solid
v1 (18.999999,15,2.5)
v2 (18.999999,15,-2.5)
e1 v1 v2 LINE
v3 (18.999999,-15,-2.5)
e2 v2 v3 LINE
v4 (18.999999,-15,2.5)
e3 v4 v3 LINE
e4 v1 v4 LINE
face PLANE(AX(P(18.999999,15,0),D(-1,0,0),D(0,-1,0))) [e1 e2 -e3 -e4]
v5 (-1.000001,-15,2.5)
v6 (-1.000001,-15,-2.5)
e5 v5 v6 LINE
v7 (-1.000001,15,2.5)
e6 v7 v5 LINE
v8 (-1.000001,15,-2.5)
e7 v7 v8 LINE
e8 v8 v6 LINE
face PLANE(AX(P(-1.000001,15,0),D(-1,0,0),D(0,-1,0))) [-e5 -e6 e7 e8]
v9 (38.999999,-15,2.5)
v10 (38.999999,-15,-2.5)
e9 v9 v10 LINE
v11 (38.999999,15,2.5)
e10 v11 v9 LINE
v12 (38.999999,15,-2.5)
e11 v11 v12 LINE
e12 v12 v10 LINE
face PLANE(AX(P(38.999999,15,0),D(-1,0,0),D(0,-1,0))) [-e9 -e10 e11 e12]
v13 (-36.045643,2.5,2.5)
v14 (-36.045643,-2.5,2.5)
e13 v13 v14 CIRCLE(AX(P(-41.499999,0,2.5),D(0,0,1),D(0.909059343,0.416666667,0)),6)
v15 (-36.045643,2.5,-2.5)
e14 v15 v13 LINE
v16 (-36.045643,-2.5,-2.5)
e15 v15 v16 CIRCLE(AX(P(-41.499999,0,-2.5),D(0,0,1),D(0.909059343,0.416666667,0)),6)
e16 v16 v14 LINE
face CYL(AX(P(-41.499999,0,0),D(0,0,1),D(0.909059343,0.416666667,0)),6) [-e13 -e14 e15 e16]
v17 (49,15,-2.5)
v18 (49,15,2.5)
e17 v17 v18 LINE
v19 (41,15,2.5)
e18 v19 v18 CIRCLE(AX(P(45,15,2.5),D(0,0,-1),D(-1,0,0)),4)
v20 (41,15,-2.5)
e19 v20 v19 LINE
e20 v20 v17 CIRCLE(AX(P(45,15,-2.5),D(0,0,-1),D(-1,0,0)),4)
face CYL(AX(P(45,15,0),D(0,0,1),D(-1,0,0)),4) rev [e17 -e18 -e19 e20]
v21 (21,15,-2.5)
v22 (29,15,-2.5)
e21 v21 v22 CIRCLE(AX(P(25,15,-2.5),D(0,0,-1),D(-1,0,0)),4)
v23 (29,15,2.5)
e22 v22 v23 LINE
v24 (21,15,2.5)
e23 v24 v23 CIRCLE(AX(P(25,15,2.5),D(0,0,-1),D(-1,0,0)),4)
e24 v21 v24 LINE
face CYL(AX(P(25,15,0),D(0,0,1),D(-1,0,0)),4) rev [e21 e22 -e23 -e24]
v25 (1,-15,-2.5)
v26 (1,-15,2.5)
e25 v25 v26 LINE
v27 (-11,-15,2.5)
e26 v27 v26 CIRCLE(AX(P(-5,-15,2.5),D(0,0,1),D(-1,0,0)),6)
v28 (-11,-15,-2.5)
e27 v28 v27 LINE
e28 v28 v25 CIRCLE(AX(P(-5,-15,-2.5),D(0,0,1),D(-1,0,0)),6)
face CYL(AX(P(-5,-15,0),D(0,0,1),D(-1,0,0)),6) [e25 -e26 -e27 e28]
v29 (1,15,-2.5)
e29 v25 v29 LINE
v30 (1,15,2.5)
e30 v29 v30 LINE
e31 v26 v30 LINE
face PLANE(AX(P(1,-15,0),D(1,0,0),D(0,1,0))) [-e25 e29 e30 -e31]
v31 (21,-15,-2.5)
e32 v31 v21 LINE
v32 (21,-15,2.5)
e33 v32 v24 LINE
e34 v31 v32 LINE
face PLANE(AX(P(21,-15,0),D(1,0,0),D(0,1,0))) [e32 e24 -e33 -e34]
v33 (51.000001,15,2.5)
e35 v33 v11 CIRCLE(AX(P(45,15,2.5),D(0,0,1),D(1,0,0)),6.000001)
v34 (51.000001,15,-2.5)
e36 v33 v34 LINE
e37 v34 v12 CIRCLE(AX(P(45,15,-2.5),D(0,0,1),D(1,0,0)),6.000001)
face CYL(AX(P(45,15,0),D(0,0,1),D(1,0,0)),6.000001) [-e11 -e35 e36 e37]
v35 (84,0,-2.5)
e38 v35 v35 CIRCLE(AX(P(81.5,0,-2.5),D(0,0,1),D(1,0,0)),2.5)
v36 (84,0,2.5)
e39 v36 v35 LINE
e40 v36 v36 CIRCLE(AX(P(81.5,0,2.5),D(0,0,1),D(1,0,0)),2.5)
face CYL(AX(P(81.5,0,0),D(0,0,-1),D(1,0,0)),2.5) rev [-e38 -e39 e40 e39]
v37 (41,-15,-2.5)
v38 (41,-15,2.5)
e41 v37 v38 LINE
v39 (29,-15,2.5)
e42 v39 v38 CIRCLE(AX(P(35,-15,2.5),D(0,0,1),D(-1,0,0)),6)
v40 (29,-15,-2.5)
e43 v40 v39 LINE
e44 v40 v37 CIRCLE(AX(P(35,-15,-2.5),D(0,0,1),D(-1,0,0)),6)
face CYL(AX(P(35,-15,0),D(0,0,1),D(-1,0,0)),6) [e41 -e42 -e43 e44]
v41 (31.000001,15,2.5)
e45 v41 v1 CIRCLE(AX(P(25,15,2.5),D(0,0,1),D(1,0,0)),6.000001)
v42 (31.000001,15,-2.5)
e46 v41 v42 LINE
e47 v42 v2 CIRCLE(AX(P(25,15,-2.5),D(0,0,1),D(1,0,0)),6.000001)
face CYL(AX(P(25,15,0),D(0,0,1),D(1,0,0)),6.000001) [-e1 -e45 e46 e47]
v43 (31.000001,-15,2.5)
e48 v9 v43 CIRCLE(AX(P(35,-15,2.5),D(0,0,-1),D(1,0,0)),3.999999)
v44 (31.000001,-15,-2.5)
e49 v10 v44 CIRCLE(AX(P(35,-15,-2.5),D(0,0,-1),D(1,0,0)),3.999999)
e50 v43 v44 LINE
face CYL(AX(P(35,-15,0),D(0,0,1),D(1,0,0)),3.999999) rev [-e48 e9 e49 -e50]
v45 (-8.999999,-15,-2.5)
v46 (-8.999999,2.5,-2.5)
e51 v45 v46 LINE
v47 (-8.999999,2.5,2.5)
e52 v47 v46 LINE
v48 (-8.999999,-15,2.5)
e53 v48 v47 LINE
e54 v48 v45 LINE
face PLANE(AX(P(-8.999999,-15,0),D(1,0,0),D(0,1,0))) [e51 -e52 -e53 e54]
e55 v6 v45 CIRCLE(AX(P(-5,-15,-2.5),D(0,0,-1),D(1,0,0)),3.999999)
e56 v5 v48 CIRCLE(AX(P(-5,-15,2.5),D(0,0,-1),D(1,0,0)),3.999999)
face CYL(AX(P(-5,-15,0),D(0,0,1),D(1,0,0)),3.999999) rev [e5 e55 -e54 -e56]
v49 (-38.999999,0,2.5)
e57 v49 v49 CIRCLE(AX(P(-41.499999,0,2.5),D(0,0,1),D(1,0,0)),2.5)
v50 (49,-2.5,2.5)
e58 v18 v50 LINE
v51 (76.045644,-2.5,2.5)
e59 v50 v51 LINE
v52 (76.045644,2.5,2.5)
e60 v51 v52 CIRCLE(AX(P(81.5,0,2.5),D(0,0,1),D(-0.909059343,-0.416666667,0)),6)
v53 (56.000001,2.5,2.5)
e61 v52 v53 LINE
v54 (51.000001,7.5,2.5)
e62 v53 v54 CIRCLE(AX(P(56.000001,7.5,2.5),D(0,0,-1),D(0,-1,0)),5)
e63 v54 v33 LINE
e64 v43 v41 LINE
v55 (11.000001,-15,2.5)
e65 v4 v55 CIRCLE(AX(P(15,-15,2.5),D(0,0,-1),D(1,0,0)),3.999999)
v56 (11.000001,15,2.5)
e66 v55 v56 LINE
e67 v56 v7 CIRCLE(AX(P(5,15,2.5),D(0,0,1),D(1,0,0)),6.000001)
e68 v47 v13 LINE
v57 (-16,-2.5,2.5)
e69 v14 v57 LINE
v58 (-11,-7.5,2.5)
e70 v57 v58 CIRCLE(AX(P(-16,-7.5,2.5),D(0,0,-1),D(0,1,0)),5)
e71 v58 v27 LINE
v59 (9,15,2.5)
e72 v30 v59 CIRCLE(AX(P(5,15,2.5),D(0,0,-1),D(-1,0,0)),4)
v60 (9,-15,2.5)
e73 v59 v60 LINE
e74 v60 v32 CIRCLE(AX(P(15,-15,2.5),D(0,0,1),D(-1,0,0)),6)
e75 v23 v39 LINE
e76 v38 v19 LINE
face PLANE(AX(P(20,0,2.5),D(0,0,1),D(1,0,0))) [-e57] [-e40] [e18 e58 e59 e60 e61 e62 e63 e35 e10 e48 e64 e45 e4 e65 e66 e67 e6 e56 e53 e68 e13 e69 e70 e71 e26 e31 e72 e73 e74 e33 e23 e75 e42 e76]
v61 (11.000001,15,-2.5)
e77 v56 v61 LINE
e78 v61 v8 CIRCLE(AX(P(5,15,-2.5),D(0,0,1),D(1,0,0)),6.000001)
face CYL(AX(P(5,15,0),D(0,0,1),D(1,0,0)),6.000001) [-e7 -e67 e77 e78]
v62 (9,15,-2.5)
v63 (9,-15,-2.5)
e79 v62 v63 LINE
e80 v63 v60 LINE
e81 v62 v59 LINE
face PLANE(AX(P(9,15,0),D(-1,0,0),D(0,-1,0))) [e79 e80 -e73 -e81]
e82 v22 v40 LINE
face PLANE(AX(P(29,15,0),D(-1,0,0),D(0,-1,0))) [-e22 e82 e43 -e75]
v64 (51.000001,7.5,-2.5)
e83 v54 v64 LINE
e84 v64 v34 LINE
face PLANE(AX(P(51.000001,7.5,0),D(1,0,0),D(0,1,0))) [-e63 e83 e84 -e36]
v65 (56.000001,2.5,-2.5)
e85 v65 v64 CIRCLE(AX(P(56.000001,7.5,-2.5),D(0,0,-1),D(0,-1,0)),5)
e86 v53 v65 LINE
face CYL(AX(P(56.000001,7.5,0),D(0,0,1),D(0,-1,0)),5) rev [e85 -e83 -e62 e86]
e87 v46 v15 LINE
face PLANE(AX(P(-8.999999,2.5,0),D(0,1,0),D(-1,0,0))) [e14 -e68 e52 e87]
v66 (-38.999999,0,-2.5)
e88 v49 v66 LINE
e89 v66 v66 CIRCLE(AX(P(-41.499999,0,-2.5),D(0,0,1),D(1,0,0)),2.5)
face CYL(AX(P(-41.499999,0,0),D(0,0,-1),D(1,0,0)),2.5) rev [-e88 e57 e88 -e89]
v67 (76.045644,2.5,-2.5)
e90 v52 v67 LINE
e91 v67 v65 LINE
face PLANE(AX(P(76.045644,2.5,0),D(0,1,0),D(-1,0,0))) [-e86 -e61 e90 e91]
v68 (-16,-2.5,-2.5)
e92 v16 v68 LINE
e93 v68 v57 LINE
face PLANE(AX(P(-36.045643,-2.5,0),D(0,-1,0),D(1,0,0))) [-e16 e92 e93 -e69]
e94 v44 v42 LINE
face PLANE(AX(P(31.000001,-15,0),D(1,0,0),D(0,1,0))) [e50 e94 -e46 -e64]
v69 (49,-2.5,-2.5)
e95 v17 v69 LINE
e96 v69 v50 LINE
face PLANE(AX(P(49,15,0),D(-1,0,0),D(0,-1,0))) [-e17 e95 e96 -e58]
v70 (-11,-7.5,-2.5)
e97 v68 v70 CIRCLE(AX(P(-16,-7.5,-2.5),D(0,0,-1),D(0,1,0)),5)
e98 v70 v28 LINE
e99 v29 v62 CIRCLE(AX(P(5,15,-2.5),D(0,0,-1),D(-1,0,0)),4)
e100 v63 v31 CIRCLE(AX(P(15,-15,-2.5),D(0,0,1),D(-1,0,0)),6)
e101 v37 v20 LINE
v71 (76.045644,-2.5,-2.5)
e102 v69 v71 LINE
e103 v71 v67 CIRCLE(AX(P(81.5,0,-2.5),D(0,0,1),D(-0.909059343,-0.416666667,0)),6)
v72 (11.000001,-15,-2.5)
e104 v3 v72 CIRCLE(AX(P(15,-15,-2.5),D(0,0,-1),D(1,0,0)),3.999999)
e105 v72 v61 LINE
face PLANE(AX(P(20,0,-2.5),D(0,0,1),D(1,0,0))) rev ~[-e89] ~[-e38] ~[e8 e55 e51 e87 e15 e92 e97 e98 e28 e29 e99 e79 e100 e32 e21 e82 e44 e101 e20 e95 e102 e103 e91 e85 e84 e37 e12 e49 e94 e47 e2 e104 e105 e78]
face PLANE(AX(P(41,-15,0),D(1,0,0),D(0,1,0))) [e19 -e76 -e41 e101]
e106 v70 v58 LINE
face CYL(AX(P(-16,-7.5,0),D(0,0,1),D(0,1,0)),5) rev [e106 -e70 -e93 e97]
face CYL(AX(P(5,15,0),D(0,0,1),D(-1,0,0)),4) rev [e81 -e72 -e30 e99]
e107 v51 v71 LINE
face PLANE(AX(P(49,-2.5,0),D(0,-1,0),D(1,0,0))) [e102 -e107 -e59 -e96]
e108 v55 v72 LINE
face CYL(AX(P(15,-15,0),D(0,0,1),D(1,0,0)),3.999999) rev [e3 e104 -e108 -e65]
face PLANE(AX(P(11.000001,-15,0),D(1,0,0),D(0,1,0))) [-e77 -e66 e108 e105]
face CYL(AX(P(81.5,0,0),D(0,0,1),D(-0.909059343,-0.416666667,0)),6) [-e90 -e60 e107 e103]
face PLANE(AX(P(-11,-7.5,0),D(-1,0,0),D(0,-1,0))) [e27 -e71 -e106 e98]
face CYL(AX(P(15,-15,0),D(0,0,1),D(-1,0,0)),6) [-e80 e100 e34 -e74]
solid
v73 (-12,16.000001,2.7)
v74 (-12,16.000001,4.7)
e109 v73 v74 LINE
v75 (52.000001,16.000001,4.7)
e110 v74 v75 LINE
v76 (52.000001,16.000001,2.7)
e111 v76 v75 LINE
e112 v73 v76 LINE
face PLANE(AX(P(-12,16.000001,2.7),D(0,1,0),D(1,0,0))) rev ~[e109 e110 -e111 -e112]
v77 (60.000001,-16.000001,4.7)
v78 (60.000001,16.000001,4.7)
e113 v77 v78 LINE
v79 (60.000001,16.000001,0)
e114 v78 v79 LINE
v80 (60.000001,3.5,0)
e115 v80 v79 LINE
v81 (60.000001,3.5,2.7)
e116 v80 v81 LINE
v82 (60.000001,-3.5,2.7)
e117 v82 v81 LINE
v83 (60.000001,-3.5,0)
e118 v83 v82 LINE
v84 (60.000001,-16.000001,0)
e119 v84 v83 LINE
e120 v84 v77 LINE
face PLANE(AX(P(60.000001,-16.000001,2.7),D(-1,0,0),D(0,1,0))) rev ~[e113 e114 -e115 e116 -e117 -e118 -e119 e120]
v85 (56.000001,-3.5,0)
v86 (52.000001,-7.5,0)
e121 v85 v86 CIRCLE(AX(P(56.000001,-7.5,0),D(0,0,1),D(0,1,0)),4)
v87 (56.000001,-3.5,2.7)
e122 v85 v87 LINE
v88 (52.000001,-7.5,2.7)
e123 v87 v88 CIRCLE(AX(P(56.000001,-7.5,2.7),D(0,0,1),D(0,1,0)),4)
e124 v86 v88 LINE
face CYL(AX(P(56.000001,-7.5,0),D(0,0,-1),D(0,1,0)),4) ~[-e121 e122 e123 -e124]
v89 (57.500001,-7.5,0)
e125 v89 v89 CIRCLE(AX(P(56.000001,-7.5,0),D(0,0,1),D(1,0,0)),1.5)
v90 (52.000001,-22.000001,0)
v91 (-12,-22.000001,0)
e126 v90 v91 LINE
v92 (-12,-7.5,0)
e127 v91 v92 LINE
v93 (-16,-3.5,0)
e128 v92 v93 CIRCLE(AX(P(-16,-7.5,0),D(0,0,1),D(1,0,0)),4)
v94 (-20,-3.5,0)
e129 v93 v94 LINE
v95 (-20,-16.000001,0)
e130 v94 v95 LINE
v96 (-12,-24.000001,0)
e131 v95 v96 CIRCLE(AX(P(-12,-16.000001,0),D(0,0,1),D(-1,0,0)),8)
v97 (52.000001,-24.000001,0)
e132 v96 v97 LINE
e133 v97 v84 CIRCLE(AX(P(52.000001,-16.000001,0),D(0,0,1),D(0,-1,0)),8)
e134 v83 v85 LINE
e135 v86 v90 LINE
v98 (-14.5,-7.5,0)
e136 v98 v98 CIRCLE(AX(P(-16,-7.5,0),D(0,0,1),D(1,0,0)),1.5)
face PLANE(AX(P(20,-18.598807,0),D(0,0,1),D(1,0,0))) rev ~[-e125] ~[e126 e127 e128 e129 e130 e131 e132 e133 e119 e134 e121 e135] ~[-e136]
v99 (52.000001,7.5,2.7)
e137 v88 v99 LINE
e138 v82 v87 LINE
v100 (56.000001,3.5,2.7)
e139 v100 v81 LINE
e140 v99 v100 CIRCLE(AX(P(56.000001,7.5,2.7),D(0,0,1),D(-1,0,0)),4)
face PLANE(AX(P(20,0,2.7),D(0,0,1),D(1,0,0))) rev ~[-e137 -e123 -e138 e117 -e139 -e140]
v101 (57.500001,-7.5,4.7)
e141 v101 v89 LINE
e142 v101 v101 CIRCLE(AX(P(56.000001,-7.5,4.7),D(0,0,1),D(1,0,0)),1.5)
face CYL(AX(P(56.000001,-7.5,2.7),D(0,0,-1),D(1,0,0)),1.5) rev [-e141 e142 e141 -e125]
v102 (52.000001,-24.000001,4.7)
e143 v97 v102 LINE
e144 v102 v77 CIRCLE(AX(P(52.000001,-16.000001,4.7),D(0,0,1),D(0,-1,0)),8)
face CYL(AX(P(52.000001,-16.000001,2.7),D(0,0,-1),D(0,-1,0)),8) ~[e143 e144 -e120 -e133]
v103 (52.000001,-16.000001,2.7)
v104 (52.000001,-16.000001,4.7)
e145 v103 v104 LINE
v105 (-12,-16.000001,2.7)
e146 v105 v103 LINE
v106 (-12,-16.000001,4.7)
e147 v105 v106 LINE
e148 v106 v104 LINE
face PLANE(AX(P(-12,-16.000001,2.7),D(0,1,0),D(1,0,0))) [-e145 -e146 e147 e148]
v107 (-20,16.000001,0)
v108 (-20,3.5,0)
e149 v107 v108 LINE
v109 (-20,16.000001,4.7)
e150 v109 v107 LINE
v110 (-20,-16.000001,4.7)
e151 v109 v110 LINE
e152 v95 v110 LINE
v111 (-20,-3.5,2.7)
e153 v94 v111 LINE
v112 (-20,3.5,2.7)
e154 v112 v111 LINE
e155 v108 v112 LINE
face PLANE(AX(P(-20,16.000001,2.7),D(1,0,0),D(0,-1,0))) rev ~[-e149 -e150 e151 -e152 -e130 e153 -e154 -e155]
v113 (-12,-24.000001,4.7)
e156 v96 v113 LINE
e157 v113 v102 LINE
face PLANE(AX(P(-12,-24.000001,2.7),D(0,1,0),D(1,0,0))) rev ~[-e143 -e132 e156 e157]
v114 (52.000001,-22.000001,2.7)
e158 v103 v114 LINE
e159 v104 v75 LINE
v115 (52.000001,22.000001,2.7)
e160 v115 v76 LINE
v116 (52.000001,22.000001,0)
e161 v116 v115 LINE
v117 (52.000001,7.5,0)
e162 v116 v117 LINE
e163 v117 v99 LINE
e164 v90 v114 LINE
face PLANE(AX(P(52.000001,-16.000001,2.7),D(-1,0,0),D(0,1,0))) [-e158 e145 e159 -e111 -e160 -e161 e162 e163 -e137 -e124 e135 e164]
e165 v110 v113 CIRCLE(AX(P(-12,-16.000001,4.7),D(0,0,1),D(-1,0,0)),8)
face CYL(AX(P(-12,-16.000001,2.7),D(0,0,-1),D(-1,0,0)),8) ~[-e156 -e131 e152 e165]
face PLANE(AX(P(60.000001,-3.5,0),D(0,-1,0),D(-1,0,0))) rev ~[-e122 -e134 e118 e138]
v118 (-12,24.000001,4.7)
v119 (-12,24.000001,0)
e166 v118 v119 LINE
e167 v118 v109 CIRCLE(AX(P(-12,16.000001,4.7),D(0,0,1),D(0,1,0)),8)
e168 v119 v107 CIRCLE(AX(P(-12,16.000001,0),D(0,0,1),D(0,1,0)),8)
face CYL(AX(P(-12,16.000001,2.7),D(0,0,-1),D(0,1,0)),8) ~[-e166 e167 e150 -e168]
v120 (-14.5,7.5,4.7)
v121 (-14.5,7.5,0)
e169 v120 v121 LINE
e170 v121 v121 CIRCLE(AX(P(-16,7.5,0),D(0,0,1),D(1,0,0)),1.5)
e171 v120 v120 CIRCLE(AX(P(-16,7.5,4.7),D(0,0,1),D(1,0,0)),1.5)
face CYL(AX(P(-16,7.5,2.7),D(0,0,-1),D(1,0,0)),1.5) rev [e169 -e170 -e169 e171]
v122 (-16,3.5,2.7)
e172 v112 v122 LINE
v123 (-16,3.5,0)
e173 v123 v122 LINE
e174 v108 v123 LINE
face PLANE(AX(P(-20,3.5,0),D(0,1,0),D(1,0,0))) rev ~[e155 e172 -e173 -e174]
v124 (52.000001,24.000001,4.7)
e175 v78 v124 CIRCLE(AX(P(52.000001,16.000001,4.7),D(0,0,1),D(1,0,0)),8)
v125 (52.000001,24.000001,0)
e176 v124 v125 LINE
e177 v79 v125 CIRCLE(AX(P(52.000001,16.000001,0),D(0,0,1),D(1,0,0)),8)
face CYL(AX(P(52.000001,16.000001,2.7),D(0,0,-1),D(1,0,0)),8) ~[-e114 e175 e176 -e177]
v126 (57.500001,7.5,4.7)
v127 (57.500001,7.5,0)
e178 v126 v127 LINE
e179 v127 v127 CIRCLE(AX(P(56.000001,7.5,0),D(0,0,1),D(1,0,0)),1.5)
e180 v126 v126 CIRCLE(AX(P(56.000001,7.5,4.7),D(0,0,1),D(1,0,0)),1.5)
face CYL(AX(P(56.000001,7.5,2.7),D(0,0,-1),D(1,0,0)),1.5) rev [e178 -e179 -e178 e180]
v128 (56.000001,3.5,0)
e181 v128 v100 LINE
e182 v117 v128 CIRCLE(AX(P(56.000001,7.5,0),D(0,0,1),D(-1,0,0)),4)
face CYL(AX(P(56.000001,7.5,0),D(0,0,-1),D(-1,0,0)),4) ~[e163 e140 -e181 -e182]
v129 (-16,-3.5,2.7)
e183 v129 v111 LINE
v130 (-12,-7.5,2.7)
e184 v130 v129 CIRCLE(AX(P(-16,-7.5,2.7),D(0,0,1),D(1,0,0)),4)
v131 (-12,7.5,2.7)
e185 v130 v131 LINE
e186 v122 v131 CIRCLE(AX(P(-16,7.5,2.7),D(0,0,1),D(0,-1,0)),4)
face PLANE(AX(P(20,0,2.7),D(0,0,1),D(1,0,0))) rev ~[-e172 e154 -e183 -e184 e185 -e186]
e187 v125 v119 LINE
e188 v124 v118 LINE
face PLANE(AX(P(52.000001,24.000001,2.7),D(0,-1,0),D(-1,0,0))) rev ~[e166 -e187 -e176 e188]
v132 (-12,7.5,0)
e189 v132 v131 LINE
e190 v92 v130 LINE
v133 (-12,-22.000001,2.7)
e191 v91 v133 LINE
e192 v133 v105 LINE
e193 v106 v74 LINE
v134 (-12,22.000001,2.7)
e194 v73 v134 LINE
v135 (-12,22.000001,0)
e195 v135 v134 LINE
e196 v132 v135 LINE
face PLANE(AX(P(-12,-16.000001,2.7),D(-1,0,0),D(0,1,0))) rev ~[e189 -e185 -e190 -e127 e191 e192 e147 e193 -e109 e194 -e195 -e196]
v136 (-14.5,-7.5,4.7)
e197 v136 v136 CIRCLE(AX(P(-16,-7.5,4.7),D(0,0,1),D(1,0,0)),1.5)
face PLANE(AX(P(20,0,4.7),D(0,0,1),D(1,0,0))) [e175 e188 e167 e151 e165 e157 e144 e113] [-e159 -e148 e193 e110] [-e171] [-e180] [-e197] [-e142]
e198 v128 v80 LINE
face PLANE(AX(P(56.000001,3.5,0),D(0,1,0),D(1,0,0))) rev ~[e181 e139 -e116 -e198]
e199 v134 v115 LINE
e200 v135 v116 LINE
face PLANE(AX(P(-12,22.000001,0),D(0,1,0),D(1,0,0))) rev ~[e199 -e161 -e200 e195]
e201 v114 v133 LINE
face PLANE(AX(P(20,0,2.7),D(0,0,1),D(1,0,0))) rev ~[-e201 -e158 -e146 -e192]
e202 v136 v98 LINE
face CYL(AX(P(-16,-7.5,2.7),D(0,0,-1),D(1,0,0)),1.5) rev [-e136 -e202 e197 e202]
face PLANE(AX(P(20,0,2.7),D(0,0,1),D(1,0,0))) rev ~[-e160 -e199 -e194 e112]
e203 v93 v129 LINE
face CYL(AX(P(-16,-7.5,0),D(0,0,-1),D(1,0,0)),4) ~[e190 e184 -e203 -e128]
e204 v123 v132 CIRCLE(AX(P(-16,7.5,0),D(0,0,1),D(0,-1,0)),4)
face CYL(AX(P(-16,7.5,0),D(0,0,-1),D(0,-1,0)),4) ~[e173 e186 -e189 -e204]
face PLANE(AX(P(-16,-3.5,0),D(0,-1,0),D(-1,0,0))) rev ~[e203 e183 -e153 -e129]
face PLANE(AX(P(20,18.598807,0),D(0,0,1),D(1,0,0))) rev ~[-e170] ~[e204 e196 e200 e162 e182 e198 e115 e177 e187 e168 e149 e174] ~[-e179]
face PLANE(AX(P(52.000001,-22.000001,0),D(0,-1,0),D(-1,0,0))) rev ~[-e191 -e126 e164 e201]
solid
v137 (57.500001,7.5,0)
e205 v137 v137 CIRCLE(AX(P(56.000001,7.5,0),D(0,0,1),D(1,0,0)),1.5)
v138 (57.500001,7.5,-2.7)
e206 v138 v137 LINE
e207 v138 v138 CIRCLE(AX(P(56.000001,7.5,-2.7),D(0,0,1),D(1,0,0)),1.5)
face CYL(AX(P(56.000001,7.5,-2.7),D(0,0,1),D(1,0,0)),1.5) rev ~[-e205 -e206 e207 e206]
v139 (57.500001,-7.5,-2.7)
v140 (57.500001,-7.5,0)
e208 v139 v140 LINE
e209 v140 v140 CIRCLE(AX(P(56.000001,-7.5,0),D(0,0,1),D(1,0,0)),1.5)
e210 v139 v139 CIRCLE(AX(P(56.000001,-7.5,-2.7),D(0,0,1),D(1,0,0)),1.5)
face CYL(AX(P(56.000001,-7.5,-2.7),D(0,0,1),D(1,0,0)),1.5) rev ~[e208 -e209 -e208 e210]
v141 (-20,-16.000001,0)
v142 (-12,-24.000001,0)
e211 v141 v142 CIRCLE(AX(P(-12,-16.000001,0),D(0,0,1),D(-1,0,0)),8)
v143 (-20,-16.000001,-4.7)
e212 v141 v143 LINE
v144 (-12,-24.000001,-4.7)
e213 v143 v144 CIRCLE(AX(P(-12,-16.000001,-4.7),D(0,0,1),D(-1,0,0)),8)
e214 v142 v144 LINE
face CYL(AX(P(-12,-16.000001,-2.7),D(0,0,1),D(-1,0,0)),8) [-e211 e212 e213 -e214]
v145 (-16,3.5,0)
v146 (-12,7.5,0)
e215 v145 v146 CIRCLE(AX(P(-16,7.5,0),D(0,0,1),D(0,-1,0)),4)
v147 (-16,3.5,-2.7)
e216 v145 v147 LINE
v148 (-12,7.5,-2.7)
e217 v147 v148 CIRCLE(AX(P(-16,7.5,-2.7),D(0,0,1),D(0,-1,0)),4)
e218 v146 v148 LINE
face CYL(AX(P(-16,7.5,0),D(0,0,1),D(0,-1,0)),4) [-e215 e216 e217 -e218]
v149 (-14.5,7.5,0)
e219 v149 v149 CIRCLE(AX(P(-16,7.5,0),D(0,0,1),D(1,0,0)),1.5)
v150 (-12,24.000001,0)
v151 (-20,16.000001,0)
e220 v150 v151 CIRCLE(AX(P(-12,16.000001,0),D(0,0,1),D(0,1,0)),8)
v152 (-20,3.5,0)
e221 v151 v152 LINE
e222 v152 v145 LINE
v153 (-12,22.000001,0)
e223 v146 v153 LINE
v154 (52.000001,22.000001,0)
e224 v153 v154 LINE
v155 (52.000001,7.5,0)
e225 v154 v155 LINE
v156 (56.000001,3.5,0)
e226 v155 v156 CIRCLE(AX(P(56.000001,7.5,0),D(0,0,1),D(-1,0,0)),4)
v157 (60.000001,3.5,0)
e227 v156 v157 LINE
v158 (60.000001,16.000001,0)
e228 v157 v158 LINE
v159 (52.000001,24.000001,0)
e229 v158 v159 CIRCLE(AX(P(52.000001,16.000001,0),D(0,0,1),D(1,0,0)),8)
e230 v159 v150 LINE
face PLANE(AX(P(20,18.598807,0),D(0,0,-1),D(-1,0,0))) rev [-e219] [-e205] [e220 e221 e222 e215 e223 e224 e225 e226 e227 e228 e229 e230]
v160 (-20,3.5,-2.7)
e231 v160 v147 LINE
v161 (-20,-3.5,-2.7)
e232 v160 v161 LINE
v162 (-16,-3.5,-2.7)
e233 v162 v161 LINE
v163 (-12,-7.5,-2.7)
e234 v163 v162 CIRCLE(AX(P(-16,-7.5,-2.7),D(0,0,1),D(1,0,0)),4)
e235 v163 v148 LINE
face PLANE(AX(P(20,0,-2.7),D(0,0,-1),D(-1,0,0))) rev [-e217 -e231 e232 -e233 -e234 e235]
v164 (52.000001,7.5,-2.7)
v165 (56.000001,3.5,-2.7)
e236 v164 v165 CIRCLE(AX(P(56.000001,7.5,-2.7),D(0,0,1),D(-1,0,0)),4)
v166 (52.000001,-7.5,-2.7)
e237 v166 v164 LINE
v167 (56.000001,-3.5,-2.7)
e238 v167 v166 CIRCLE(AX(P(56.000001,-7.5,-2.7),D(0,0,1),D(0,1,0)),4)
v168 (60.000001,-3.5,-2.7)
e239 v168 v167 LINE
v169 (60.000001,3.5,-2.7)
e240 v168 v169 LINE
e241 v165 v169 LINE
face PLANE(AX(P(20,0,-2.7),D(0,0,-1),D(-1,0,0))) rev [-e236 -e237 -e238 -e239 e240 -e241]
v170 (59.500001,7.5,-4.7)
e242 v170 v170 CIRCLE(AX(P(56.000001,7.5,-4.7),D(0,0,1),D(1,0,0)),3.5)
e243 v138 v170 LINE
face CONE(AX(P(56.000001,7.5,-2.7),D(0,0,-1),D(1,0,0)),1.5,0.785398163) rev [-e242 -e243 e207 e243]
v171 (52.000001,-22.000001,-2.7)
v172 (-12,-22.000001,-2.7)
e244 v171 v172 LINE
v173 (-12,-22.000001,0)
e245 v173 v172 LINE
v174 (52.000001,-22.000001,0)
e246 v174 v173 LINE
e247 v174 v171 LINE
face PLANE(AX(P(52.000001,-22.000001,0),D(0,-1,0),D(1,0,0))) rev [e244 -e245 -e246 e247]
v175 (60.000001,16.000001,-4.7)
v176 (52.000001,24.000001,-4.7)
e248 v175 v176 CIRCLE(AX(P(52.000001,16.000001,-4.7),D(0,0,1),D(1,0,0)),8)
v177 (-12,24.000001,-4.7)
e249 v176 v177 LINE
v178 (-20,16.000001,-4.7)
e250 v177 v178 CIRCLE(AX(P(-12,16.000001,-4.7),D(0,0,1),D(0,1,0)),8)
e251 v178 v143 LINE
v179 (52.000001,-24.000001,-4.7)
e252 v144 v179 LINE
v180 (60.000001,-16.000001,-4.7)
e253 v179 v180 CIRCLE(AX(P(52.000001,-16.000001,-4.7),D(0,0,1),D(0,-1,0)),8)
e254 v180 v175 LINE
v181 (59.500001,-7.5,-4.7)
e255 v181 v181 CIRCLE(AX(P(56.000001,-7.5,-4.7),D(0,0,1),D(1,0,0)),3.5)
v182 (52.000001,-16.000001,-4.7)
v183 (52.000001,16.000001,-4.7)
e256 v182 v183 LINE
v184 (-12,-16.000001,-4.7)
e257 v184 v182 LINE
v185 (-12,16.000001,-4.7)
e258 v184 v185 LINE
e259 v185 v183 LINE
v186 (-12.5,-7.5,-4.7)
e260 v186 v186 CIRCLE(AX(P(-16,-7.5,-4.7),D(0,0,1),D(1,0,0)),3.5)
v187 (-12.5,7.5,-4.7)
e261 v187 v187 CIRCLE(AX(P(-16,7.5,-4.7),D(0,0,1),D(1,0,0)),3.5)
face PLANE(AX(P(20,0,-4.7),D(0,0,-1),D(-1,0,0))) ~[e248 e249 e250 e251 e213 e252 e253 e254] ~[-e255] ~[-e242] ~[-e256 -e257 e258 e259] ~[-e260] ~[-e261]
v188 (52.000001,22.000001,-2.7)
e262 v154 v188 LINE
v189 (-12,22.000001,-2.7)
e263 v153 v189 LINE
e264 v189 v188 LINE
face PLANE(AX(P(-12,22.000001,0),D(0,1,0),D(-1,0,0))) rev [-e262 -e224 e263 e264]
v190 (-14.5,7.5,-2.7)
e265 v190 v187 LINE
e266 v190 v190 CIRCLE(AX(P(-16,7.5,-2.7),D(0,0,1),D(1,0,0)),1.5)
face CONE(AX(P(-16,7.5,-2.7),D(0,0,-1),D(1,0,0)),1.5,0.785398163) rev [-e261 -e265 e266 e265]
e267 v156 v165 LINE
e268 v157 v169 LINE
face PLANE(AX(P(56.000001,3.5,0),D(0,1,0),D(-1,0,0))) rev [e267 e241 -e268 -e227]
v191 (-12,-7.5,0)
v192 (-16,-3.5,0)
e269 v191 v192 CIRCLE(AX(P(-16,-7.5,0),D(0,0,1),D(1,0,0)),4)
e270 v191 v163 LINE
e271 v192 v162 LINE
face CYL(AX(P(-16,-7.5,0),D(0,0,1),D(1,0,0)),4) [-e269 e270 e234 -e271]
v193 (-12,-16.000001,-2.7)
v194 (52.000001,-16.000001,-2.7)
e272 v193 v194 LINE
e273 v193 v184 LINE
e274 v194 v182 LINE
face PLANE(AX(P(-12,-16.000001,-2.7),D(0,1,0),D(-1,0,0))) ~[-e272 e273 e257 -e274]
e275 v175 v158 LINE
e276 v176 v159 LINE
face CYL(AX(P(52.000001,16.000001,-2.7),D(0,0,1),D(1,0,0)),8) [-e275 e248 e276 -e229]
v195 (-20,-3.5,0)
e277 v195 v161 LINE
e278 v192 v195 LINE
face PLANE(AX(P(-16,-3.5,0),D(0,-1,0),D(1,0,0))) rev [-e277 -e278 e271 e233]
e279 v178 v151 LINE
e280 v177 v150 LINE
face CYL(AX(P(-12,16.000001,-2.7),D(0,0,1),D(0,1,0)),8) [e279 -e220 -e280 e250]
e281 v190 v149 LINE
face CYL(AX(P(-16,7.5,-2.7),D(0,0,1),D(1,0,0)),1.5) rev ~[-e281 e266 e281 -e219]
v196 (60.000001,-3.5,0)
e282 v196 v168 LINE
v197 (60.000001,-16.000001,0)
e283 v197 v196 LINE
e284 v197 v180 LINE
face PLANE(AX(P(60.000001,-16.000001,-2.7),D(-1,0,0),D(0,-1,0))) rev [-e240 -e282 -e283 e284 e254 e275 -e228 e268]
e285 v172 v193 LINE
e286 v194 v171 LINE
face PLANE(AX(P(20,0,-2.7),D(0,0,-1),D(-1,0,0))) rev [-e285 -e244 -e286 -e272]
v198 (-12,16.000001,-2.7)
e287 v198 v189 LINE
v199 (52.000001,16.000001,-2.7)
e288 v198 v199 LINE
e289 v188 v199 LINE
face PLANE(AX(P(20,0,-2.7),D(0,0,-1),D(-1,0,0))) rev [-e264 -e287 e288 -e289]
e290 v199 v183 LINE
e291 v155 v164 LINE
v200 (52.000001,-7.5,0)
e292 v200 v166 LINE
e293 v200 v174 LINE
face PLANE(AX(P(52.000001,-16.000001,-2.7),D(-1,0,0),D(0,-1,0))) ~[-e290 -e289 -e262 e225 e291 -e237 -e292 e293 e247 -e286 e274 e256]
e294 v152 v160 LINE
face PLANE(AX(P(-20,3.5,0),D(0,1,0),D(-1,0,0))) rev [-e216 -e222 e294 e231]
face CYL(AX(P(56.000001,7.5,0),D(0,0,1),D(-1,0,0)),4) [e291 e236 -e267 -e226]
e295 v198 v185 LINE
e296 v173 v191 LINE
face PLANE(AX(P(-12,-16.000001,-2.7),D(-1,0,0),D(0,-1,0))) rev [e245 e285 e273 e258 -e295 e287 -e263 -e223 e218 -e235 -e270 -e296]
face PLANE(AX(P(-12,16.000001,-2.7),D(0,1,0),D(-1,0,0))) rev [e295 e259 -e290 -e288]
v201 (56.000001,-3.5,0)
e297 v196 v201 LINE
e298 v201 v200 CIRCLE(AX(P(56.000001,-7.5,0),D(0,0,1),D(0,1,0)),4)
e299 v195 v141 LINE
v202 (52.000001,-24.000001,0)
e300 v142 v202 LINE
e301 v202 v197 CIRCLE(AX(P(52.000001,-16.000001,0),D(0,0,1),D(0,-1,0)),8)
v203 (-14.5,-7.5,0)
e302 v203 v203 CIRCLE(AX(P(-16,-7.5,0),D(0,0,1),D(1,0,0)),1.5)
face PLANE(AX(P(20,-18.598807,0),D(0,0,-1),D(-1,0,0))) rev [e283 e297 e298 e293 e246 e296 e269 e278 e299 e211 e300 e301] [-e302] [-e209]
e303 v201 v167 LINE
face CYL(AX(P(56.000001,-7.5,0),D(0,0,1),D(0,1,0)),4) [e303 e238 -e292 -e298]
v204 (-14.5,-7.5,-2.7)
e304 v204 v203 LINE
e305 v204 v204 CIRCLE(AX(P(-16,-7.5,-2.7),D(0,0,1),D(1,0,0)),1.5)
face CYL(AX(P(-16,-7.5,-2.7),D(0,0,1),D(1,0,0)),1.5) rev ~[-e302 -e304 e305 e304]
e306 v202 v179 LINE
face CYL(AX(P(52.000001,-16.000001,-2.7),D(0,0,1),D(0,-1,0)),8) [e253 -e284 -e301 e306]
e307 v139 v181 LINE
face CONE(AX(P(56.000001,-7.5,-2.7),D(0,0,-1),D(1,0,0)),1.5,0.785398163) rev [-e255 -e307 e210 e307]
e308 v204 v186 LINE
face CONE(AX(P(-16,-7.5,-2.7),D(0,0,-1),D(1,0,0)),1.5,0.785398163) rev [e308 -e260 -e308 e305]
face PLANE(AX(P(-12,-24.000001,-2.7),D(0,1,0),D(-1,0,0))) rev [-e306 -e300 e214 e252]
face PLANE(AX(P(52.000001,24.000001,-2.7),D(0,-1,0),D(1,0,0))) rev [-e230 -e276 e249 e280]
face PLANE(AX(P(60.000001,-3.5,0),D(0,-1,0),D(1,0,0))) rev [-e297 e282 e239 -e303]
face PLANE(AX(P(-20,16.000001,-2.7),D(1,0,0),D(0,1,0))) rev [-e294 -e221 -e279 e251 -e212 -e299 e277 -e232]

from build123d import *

# Parameters (mm, degrees)
F0_R     = 2.5
F1_DEPTH = 2.5
F2_R     = 1.5
F3_DEPTH = 2.7
F4_R     = 1.5
F4_W     = 64.0000006109
F4_H     = 32.0000012219
F5_DEPTH = 2
F7_SIZE  = 2


with BuildPart() as f1:
    # F0 (on Top) → F1 (new body, symmetric)
    with BuildSketch(Plane.XY):
        with BuildLine():
            Line((-8.9999993891, -2.5), (-8.9999993891, 2.5))
            Line((-8.9999993891, 2.5), (-36.0456433317, 2.5))
            ThreePointArc((-36.0456433317, 2.5), (-47.4999993891, 0), (-36.0456433317, -2.5))
            Line((-36.0456433317, -2.5), (-16, -2.5))
            ThreePointArc((-16, -2.5), (-12.4644660941, -3.9644660941), (-11, -7.5))
            Line((-11, -7.5), (-11, -15))
            ThreePointArc((-11, -15), (-5, -21), (1, -15))
            Line((1, -15), (1, 15))
            ThreePointArc((1, 15), (5, 19), (9, 15))
            Line((9, 15), (9, -15))
            ThreePointArc((9, -15), (15, -21), (21, -15))
            Line((21, -15), (21, 15))
            ThreePointArc((21, 15), (25, 19), (29, 15))
            Line((29, 15), (29, -15))
            ThreePointArc((29, -15), (35, -21), (41, -15))
            Line((41, -15), (41, 15))
            ThreePointArc((41, 15), (45, 19), (49, 15))
            Line((49, 15), (49, 2.5))
            Line((49, 2.5), (49, -2.5))
            Line((49, -2.5), (76.0456439427, -2.5))
            ThreePointArc((76.0456439427, -2.5), (87.5, 0), (76.0456439427, 2.5))
            Line((76.0456439427, 2.5), (56.0000006109, 2.5))
            ThreePointArc((56.0000006109, 2.5), (52.464466705, 3.9644660941), (51.0000006109, 7.5))
            Line((51.0000006109, 7.5), (51.0000006109, 15))
            ThreePointArc((51.0000006109, 15), (45, 21.0000006109), (38.9999993891, 15))
            Line((38.9999993891, 15), (38.9999993891, -15))
            ThreePointArc((38.9999993891, -15), (35, -18.9999993891), (31.0000006109, -15))
            Line((31.0000006109, -15), (31.0000006109, 15))
            ThreePointArc((31.0000006109, 15), (25, 21.0000006109), (18.9999993891, 15))
            Line((18.9999993891, 15), (18.9999993891, -15))
            ThreePointArc((18.9999993891, -15), (15, -18.9999993891), (11.0000006109, -15))
            Line((11.0000006109, -15), (11.0000006109, 15))
            ThreePointArc((11.0000006109, 15), (5, 21.0000006109), (-1.0000006109, 15))
            Line((-1.0000006109, 15), (-1.0000006109, -15))
            ThreePointArc((-1.0000006109, -15), (-5, -18.9999993891), (-8.9999993891, -15))
            Line((-8.9999993891, -15), (-8.9999993891, -2.5))
        make_face()
        with Locations((-41.4999993891, 0)):
            Circle(F0_R, mode=Mode.SUBTRACT)
        with Locations((81.5, 0)):
            Circle(F0_R, mode=Mode.SUBTRACT)
    extrude(amount=F1_DEPTH, both=True)


with BuildPart() as f3:
    # F2 (on Top) → F3 (new body)
    with BuildSketch(Plane.XY):
        with BuildLine():
            ThreePointArc((-16, 3.5), (-13.1715728753, 4.6715728753), (-12, 7.5))
            Line((-12, 7.5), (-12, 22.0000006109))
            Line((-12, 22.0000006109), (52.0000006109, 22.0000006109))
            Line((52.0000006109, 22.0000006109), (52.0000006109, 7.5))
            ThreePointArc((52.0000006109, 7.5), (53.1715734862, 4.6715728753), (56.0000006109, 3.5))
            Line((56.0000006109, 3.5), (60.0000006109, 3.5))
            Line((60.0000006109, 3.5), (60.0000006109, 16.0000006109))
            ThreePointArc((60.0000006109, 16.0000006109), (57.6568548604, 21.6568548604), (52.0000006109, 24.0000006109))
            Line((52.0000006109, 24.0000006109), (-12, 24.0000006109))
            ThreePointArc((-12, 24.0000006109), (-17.6568542495, 21.6568548604), (-20, 16.0000006109))
            Line((-20, 16.0000006109), (-20, 3.5))
            Line((-20, 3.5), (-16, 3.5))
        make_face()
        with Locations((-16, 7.5)):
            Circle(F2_R, mode=Mode.SUBTRACT)
        with Locations((56.0000006109, 7.5)):
            Circle(F2_R, mode=Mode.SUBTRACT)
    extrude(amount=F3_DEPTH)



with BuildPart() as f3b:
    # F2 (on Top) → F3, piece 2 (new body)
    with BuildSketch(Plane.XY):
        with BuildLine():
            Line((-12, -22.0000006109), (-12, -7.5))
            ThreePointArc((-12, -7.5), (-13.1715728753, -4.6715728753), (-16, -3.5))
            Line((-16, -3.5), (-20, -3.5))
            Line((-20, -3.5), (-20, -16.0000006109))
            ThreePointArc((-20, -16.0000006109), (-17.6568542495, -21.6568548604), (-12, -24.0000006109))
            Line((-12, -24.0000006109), (52.0000006109, -24.0000006109))
            ThreePointArc((52.0000006109, -24.0000006109), (57.6568548604, -21.6568548604), (60.0000006109, -16.0000006109))
            Line((60.0000006109, -16.0000006109), (60.0000006109, -3.5))
            Line((60.0000006109, -3.5), (56.0000006109, -3.5))
            ThreePointArc((56.0000006109, -3.5), (53.1715734862, -4.6715728753), (52.0000006109, -7.5))
            Line((52.0000006109, -7.5), (52.0000006109, -22.0000006109))
            Line((52.0000006109, -22.0000006109), (-12, -22.0000006109))
        make_face()
        with Locations((-16, -7.5)):
            Circle(F2_R, mode=Mode.SUBTRACT)
        with Locations((56.0000006109, -7.5)):
            Circle(F2_R, mode=Mode.SUBTRACT)
    extrude(amount=F3_DEPTH)


with BuildPart() as f3_1:
    add(f3.part)

    add(f3b.part)  # F5 merges F3b
    # F4 (on face) → F5 (join)
    with BuildSketch(Plane.XY.offset(2.7)):
        with BuildLine():
            Line((-20, 16.0000006109), (-20, -16.0000006109))
            ThreePointArc((-20, -16.0000006109), (-17.6568542495, -21.6568548604), (-12, -24.0000006109))
            Line((-12, -24.0000006109), (52.0000006109, -24.0000006109))
            ThreePointArc((52.0000006109, -24.0000006109), (57.6568548604, -21.6568548604), (60.0000006109, -16.0000006109))
            Line((60.0000006109, -16.0000006109), (60.0000006109, 16.0000006109))
            ThreePointArc((60.0000006109, 16.0000006109), (57.6568548604, 21.6568548604), (52.0000006109, 24.0000006109))
            Line((52.0000006109, 24.0000006109), (-12, 24.0000006109))
            ThreePointArc((-12, 24.0000006109), (-17.6568542495, 21.6568548604), (-20, 16.0000006109))
        make_face()
        with Locations((-16, -7.5)):
            Circle(F4_R, mode=Mode.SUBTRACT)
        with Locations((56.0000006109, -7.5)):
            Circle(F4_R, mode=Mode.SUBTRACT)
        with Locations((-16, 7.5)):
            Circle(F4_R, mode=Mode.SUBTRACT)
        with Locations((20.0000003055, 0)):
            Rectangle(F4_W, F4_H, mode=Mode.SUBTRACT)
        with Locations((56.0000006109, 7.5)):
            Circle(F4_R, mode=Mode.SUBTRACT)
    extrude(amount=F5_DEPTH)


with BuildPart() as f6_1:
    # F6: instance of F3
    add(f3_1.part.mirror(Plane.XY))

    # F7
    f7_edges = [f6_1.edges().sort_by_distance(p)[0] for p in [
        (-17.5, -7.5, -4.7),
        (-17.5, 7.5, -4.7),
        (54.500001, -7.5, -4.7),
        (54.500001, 7.5, -4.7),
    ]]
    chamfer(f7_edges, length=F7_SIZE)


solid = Compound([f1.part, f3_1.part, f6_1.part])
